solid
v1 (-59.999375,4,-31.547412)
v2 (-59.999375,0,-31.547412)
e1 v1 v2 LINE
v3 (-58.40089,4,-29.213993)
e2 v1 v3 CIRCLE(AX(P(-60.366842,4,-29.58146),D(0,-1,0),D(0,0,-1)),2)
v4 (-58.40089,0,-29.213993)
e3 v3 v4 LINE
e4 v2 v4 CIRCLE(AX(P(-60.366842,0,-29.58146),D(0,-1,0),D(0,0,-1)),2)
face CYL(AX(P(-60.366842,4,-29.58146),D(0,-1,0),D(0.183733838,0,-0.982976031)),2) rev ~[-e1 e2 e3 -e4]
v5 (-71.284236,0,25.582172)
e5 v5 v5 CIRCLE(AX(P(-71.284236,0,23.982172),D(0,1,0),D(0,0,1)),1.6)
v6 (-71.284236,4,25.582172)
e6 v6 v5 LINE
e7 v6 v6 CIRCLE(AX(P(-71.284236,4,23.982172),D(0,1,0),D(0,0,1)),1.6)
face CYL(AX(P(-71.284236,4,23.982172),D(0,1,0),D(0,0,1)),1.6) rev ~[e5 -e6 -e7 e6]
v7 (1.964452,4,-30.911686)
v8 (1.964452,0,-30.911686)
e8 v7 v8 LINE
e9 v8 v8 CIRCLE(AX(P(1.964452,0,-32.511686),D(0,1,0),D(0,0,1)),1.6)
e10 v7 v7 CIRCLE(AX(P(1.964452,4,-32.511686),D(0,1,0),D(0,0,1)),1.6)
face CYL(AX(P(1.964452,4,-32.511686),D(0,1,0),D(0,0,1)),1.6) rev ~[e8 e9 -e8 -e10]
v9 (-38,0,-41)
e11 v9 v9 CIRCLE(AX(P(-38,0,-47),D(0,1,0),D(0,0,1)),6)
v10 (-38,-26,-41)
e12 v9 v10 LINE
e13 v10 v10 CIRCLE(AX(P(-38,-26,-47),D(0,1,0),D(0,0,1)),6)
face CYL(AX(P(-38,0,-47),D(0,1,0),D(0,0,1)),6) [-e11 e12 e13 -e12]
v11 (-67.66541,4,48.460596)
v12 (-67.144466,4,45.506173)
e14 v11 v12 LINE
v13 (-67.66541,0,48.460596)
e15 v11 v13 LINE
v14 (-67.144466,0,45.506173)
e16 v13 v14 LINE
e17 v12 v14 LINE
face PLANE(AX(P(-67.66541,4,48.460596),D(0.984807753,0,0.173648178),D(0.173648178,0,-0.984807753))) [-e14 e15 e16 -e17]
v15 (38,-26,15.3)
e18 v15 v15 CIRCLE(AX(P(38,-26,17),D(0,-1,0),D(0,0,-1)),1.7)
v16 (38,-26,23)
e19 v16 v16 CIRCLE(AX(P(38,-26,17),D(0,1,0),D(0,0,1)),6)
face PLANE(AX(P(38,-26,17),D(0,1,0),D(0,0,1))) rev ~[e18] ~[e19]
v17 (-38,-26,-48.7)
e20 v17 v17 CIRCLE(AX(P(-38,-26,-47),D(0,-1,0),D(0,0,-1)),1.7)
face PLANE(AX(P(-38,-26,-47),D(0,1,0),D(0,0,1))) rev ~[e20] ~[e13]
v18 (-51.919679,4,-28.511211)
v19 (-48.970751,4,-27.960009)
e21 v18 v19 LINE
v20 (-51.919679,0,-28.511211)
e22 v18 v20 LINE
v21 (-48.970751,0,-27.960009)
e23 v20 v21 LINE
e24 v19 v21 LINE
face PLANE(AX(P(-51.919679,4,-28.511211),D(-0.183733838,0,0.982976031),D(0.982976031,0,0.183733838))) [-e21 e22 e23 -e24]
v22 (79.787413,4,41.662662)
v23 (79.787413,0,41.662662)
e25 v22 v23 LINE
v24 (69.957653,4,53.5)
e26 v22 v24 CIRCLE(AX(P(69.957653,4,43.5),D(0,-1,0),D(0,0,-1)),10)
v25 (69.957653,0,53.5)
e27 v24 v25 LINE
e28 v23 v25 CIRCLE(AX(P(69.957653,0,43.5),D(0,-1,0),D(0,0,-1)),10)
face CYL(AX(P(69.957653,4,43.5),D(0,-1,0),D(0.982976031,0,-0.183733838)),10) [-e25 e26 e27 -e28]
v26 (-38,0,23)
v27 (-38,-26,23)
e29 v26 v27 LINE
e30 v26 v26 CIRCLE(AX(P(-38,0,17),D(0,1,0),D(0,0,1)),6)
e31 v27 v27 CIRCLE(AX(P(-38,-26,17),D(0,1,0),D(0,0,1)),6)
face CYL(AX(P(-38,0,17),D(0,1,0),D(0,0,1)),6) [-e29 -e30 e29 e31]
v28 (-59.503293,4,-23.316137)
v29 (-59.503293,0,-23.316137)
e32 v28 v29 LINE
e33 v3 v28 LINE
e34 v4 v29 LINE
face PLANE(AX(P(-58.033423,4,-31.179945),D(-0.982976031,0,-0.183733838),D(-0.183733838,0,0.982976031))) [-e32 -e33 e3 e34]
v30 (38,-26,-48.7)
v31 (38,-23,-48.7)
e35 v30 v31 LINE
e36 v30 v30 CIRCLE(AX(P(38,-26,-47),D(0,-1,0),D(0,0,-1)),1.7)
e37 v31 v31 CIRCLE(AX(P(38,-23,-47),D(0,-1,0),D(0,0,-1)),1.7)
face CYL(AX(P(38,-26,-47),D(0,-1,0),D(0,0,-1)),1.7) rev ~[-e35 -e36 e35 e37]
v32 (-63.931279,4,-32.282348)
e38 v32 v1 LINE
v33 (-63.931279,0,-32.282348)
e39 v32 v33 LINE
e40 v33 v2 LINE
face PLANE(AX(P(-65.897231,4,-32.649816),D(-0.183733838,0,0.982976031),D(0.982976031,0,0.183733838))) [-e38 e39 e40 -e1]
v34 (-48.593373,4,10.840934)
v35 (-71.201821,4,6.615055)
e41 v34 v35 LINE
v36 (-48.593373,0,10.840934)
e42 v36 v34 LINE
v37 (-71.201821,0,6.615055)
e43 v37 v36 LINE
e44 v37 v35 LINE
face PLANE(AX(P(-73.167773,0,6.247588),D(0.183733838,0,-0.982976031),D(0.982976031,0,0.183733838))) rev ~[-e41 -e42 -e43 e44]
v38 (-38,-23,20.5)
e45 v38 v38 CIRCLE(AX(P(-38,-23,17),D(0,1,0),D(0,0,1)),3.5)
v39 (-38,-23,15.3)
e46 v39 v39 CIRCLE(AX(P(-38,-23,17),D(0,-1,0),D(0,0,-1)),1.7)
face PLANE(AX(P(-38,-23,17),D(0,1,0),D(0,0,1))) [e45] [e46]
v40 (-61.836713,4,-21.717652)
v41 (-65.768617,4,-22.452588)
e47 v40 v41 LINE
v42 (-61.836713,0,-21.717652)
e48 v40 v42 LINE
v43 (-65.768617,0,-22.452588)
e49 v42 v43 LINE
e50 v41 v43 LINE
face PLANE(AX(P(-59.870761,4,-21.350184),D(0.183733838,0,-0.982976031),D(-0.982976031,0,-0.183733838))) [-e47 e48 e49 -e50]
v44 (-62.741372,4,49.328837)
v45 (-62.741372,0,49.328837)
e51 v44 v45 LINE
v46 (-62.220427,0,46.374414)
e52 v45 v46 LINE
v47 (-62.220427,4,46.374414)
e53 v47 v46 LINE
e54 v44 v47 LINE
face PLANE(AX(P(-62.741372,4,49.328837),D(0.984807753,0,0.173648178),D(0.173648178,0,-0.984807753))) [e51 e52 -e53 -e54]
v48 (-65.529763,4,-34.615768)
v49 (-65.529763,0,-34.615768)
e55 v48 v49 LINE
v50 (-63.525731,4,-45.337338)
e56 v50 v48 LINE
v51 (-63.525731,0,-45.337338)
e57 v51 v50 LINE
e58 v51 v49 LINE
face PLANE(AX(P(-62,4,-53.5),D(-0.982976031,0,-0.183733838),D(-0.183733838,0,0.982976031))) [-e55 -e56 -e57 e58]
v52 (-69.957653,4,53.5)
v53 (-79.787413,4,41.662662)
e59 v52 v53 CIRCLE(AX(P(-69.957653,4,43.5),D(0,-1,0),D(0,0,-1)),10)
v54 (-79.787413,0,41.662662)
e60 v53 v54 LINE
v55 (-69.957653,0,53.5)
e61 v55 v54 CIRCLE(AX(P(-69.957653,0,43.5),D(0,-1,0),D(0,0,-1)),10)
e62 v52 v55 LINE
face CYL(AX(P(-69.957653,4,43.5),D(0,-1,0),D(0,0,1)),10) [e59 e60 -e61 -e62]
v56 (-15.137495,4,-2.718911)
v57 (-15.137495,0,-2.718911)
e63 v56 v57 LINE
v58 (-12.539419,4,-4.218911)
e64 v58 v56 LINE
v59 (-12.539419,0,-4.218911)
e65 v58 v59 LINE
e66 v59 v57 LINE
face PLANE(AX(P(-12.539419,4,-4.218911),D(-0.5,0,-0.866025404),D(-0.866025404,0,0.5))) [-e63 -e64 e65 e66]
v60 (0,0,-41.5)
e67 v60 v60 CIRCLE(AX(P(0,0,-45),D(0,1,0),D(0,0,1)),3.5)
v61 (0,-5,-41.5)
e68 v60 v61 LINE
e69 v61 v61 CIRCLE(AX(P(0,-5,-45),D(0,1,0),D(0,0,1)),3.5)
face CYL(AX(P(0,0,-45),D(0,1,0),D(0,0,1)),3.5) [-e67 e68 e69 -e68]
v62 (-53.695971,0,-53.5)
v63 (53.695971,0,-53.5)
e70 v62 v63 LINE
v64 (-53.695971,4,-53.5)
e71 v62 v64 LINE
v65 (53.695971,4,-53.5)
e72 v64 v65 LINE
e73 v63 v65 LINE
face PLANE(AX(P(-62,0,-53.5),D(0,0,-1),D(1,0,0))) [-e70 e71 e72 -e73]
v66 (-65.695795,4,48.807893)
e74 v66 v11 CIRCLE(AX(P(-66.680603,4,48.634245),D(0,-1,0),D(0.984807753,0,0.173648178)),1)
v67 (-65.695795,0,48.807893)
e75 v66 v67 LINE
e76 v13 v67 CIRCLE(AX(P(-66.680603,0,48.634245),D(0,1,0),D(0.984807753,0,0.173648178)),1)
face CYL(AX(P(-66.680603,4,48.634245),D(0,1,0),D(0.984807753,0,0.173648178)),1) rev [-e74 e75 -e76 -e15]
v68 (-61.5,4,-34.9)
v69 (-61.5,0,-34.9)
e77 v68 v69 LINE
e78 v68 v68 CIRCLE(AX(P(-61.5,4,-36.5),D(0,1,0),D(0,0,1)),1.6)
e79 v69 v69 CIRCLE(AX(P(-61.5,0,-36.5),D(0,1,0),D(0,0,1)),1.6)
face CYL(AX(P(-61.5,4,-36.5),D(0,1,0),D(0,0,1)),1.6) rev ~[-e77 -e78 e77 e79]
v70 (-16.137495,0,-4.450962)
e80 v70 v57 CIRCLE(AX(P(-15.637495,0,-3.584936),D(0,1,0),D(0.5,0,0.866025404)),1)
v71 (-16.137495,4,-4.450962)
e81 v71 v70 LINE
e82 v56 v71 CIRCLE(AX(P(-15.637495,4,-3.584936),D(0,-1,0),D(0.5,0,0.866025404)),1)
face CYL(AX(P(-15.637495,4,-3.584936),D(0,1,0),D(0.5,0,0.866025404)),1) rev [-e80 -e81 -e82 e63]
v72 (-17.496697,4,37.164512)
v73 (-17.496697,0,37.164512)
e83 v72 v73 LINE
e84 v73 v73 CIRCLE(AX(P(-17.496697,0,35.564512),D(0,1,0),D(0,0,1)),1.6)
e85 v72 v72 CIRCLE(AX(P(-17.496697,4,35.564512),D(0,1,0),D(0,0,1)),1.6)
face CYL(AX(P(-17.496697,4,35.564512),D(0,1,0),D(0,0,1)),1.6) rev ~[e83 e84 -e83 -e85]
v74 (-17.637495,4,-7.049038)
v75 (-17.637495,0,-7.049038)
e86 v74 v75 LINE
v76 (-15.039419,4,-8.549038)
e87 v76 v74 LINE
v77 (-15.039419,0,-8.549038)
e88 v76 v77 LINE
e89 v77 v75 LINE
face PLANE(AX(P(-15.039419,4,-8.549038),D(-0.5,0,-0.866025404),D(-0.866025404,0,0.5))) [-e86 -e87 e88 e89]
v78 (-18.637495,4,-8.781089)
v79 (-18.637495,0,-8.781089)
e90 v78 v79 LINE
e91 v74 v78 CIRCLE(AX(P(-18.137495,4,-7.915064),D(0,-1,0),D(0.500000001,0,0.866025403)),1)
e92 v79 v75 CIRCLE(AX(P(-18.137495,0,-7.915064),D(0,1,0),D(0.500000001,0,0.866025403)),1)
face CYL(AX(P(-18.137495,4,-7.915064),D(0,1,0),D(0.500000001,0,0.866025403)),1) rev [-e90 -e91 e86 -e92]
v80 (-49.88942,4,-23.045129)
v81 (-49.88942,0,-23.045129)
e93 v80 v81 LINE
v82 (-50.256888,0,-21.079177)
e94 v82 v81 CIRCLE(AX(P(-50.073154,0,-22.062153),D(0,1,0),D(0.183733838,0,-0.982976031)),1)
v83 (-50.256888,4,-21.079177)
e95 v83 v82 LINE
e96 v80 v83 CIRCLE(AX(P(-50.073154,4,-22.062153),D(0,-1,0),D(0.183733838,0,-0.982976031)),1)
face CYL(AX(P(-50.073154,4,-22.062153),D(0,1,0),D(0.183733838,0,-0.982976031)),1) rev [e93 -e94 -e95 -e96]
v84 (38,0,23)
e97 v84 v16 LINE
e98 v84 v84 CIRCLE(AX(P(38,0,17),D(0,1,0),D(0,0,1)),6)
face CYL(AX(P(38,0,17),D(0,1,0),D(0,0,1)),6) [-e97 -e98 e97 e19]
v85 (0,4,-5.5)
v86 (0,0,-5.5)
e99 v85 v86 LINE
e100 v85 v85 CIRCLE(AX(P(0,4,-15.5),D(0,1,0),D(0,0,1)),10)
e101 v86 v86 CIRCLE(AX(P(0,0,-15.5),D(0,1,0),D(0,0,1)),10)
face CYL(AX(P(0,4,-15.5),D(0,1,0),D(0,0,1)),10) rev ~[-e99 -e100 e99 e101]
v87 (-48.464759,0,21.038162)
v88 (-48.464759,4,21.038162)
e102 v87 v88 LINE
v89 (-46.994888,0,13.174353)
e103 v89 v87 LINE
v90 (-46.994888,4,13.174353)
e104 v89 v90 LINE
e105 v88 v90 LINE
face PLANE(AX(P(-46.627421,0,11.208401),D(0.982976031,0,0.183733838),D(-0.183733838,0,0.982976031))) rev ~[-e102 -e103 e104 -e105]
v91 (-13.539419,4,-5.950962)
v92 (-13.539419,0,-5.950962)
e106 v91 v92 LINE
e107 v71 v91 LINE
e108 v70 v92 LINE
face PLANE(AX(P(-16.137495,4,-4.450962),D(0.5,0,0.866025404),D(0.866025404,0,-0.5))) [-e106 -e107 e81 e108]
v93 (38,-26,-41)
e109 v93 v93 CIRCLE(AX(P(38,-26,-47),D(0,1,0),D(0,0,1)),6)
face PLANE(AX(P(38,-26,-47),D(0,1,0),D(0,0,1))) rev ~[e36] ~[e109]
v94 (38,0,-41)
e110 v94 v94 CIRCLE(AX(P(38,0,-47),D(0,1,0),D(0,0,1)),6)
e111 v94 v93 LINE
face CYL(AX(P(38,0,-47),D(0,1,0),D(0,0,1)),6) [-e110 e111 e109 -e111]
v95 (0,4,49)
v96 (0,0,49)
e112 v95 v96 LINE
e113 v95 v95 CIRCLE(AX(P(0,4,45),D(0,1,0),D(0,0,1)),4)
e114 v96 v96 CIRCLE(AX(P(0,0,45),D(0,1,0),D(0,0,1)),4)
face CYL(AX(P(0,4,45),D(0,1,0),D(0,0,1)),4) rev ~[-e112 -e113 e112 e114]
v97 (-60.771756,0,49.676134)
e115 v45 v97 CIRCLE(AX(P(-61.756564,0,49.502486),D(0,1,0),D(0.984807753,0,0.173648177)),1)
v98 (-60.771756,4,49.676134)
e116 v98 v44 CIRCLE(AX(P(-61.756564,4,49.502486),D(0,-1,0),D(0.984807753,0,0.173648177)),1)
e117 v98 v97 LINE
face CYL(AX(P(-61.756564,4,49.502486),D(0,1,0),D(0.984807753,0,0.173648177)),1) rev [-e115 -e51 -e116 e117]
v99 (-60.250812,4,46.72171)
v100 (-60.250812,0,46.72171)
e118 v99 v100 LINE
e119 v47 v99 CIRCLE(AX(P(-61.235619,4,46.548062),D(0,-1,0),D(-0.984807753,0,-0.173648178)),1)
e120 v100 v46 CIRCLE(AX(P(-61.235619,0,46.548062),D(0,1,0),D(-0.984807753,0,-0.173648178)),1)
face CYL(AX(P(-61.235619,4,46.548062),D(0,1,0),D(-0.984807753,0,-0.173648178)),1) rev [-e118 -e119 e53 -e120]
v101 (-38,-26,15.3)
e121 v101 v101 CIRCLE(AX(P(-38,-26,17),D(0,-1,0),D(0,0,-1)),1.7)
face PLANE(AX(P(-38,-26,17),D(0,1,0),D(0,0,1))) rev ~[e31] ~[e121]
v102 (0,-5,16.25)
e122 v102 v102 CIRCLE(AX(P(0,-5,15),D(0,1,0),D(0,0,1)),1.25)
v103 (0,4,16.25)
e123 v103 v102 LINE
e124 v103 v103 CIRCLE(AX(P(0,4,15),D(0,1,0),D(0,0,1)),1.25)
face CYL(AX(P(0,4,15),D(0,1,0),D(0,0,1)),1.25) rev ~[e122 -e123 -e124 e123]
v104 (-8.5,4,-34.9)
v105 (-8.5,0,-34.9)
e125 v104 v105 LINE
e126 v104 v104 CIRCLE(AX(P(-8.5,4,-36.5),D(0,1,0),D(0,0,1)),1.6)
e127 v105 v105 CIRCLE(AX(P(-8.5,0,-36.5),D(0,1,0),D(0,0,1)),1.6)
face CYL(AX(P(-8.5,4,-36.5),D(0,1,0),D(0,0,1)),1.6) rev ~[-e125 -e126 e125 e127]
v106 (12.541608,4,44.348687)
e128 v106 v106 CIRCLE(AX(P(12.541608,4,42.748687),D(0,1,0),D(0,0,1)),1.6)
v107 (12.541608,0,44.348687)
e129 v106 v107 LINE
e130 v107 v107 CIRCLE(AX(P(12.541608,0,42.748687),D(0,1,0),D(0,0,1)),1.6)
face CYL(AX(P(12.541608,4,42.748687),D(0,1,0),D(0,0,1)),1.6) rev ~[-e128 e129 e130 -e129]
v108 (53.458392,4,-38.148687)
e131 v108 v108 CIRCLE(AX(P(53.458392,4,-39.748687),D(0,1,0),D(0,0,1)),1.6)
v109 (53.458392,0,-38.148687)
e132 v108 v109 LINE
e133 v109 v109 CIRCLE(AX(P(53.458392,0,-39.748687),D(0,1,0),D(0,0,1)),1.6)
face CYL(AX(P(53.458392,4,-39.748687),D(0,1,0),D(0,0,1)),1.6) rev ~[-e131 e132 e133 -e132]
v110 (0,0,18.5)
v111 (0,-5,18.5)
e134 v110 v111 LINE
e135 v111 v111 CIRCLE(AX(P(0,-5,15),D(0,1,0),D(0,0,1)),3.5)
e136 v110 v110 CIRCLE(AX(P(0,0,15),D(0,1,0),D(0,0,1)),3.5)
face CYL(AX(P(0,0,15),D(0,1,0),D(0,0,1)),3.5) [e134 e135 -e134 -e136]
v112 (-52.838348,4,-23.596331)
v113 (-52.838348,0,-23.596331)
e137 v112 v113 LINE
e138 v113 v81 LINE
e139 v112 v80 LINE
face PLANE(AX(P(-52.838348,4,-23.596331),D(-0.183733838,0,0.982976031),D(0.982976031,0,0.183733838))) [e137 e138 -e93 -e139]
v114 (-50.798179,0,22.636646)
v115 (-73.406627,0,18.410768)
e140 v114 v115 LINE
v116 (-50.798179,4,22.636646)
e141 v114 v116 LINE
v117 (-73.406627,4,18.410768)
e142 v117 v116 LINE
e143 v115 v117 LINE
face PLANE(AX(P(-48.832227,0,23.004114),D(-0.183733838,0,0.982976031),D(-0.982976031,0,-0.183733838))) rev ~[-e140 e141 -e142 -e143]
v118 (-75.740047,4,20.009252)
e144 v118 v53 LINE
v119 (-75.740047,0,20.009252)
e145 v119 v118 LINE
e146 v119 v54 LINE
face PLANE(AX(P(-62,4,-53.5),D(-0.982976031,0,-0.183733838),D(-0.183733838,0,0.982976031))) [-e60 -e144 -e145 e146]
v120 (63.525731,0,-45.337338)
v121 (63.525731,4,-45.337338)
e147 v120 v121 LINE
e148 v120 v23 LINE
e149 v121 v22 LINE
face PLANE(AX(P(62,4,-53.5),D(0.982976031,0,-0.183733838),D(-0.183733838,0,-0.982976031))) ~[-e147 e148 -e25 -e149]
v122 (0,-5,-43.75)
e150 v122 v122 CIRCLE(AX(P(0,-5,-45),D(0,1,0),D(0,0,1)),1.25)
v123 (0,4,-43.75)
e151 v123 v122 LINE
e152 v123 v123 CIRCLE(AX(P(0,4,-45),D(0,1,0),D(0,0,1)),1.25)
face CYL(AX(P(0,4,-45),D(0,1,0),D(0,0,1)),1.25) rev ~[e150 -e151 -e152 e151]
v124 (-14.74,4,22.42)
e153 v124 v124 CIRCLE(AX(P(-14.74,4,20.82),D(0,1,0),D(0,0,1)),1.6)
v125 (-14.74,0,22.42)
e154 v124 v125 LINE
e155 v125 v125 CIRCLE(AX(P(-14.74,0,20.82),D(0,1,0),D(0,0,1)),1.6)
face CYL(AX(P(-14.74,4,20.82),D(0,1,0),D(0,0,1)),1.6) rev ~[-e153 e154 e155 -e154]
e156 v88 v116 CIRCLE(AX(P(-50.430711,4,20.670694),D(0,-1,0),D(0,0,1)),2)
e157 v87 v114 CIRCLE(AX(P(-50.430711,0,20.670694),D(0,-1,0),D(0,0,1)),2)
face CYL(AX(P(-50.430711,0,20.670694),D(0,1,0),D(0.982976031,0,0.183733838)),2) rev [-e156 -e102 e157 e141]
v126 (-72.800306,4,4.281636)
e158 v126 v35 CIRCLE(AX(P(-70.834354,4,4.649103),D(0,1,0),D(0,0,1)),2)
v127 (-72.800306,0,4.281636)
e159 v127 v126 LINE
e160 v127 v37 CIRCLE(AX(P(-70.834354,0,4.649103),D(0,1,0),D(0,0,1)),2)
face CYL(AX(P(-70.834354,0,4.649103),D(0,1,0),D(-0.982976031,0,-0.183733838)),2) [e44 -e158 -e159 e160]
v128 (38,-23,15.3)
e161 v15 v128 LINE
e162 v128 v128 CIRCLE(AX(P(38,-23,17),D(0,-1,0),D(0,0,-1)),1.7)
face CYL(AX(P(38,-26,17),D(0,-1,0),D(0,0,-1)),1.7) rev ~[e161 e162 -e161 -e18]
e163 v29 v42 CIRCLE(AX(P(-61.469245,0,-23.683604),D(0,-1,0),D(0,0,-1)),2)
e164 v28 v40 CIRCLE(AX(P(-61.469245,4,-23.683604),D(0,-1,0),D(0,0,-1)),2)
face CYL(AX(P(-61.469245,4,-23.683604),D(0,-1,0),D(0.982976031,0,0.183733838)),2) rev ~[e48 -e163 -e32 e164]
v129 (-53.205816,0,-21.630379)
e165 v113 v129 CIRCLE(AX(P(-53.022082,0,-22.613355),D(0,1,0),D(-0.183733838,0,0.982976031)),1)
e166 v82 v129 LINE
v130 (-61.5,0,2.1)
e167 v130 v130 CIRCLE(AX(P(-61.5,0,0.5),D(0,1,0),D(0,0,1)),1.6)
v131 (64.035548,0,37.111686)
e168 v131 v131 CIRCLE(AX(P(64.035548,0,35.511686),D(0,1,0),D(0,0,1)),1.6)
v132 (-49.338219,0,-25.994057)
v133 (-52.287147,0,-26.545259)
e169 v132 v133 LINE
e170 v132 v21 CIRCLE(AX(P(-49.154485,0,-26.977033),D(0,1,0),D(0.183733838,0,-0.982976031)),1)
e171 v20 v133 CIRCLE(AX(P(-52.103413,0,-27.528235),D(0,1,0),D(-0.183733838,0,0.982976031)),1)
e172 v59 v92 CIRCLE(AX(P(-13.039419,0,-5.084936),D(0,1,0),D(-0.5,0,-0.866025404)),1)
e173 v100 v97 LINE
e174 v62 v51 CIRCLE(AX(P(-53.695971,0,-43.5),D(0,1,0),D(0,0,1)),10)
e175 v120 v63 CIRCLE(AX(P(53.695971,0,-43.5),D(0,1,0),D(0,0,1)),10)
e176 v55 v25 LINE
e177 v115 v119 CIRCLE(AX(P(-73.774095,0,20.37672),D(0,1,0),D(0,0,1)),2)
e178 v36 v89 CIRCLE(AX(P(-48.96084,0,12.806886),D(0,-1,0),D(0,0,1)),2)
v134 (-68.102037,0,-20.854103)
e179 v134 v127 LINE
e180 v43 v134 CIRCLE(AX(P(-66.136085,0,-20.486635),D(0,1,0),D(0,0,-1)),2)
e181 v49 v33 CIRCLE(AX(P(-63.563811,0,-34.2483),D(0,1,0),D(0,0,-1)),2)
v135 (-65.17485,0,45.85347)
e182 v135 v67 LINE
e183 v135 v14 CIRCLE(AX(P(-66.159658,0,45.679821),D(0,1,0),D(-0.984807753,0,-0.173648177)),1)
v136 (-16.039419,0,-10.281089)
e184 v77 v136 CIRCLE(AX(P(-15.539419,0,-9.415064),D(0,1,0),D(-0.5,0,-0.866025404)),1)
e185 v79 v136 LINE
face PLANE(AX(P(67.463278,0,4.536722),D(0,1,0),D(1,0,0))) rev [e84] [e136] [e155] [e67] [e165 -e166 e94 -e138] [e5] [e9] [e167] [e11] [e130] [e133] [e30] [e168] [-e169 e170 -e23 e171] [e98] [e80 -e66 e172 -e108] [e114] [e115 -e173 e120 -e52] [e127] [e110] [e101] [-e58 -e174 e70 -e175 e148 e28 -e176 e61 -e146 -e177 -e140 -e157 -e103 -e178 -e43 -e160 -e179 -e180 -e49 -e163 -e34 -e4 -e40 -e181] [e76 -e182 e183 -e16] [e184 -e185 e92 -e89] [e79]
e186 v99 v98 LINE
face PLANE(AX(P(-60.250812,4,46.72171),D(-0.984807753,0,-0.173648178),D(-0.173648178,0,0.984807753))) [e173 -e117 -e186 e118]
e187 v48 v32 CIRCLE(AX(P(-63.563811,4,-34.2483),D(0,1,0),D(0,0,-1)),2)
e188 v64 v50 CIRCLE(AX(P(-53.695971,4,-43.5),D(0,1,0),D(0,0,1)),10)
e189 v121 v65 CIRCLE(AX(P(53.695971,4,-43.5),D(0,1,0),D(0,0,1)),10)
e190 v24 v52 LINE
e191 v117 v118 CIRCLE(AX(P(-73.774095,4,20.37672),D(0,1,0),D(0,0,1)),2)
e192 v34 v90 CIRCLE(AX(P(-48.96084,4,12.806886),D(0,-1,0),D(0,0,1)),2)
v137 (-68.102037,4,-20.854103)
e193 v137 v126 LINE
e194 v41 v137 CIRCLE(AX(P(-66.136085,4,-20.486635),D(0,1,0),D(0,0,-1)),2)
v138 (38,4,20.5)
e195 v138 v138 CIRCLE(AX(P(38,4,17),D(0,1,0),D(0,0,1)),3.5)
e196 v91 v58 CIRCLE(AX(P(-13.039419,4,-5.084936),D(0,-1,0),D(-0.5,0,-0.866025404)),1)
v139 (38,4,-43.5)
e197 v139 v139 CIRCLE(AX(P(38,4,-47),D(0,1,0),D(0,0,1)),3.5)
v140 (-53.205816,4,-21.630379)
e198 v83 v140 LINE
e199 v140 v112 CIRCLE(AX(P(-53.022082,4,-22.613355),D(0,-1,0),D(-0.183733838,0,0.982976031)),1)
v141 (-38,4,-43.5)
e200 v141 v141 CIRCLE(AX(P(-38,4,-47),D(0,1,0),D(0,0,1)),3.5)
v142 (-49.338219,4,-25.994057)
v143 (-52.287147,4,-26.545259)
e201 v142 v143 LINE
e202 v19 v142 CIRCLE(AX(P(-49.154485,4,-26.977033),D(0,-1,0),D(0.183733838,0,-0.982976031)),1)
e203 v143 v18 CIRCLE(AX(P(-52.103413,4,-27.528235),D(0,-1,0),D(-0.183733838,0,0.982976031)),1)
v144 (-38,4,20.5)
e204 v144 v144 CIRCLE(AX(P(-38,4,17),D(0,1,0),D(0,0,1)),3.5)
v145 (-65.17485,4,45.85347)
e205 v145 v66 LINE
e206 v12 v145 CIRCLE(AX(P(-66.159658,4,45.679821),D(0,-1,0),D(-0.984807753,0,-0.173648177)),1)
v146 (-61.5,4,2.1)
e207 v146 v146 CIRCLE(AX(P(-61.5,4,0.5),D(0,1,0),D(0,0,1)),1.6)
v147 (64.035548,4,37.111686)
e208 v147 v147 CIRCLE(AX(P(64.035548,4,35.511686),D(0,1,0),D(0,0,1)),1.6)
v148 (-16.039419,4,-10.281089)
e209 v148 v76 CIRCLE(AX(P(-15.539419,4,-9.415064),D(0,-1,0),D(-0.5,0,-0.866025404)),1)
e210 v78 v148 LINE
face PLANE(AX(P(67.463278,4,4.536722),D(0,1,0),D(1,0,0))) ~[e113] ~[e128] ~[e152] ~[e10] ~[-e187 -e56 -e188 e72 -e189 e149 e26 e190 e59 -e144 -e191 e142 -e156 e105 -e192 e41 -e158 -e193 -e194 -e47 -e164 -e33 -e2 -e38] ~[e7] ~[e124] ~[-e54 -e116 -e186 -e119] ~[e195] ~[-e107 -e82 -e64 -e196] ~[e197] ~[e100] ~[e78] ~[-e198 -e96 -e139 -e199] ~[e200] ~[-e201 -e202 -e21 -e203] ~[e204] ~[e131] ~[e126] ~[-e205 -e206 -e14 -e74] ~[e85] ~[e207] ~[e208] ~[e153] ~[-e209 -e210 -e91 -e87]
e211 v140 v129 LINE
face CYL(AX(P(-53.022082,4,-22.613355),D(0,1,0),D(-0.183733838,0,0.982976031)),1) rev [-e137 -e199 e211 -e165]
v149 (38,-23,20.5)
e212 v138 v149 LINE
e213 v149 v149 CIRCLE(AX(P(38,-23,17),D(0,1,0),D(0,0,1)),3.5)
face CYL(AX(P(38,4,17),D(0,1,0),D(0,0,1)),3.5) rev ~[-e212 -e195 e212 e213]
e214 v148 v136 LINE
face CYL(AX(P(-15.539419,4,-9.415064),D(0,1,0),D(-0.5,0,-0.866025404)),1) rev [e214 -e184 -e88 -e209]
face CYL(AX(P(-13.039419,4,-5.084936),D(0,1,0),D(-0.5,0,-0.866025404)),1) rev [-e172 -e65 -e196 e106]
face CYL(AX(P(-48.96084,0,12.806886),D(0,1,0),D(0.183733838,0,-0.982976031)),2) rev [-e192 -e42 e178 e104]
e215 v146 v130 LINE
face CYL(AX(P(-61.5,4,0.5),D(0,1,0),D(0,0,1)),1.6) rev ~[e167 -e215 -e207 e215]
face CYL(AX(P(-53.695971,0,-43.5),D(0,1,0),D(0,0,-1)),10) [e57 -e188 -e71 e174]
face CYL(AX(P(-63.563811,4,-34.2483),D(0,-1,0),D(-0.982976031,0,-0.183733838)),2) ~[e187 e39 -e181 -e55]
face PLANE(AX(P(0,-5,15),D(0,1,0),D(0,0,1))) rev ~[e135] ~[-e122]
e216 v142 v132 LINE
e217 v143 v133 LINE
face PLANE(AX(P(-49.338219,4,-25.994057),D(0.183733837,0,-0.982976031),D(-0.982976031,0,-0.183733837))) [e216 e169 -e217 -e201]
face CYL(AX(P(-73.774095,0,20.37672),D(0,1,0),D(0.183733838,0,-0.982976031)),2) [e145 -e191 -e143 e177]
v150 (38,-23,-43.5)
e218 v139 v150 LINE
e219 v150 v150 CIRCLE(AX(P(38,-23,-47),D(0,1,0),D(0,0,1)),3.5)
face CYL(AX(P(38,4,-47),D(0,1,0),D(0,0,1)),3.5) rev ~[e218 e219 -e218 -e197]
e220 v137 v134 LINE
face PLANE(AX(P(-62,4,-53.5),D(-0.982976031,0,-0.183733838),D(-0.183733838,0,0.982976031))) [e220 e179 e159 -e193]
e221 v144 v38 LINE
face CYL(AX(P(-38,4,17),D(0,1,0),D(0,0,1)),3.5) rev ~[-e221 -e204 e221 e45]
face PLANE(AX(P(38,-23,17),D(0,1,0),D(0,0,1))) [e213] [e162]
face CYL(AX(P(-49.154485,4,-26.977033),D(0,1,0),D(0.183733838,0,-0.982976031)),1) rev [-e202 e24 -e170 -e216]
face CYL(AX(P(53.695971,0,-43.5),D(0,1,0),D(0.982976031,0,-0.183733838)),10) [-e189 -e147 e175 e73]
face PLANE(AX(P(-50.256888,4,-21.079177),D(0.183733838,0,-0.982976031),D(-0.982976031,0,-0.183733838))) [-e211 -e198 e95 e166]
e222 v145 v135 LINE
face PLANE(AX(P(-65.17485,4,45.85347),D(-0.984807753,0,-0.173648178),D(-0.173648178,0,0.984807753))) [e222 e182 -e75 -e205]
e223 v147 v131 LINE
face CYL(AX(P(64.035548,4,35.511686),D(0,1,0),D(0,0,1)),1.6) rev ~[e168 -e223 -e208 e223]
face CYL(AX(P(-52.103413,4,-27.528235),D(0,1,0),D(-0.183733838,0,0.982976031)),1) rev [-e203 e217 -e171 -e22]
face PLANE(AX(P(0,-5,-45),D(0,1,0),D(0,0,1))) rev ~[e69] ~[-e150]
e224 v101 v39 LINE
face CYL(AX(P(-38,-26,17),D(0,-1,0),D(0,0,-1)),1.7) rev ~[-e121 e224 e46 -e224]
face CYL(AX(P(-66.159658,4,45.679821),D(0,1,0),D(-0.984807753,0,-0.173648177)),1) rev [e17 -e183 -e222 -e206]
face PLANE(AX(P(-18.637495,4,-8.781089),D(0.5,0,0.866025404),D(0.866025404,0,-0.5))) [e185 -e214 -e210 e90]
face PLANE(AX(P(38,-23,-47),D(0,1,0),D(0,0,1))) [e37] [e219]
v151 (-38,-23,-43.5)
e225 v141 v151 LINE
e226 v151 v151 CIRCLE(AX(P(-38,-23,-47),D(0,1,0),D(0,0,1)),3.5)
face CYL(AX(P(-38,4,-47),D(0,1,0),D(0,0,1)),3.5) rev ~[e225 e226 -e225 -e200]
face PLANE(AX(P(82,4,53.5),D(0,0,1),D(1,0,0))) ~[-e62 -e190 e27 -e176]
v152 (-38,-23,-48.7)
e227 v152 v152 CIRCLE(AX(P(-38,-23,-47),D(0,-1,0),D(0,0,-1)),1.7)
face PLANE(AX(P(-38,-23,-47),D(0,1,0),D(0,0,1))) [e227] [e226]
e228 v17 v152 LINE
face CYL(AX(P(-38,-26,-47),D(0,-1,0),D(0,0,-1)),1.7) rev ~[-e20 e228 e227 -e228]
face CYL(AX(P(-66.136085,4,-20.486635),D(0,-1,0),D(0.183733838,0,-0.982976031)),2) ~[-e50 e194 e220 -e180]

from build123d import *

# Parameters (mm, degrees)
ESQUISSE1_W              = 124
ESQUISSE1_H              = 107
BOSS_EXTRU_1_DEPTH       = 4
ESQUISSE3_R              = 6
BOSS_EXTRU_4_DEPTH       = 26
ENL_V_MAT_EXTRU_2_REACH  = 89.214
ESQUISSE4_R              = 10
BOSS_EXTRU_5_DEPTH       = 4
ESQUISSE2_R              = 1.6
ENL_V_MAT_EXTRU_1_DEPTH  = 103.40239255
ESQUISSE6_R              = 1.6
ENL_V_MAT_EXTRU_3_DEPTH  = 103.40239255
CONG_1_R                 = 10
ESQUISSE7_R              = 3.5
ENL_V_MAT_EXTRU_4_DEPTH  = 27
ESQUISSE8_R              = 1.7
ENL_V_MAT_EXTRU_5_DEPTH  = 101.774383085
ENL_V_MAT_EXTRU_6_REACH  = 101.657
CONG_2_R                 = 2
ESQUISSE10_R             = 3.5
BOSS_EXTRU_6_DEPTH       = 5
ENL_V_MAT_EXTRU_8_REACH  = 102.774
ESQUISSE11_R             = 1.25
ENL_V_MAT_EXTRU_9_REACH  = 102.774
ESQUISSE12_R             = 4
ENL_V_MAT_EXTRU_10_REACH = 102.774
CONG_3_R                 = 2
ENL_V_MAT_EXTRU_11_REACH = 102.774
ENL_V_MAT_EXTRU_12_REACH = 102.774
ENL_V_MAT_EXTRU_13_REACH = 102.774
ESQUISSE16_R             = 1.6
ENL_V_MAT_EXTRU_14_REACH = 102.774


with BuildPart() as part:
    # Esquisse1 → Boss.-Extru.1 (new body)
    with BuildSketch(Plane(origin=(0, 0, 0), x_dir=(1, 0, 0), z_dir=(0, 1, 0))):
        Rectangle(ESQUISSE1_W, ESQUISSE1_H)
    extrude(amount=BOSS_EXTRU_1_DEPTH)

    # Esquisse3 → Boss.-Extru.4 (add)
    with BuildSketch(Plane(origin=(0, 0, 0), x_dir=(1, 0, 0), z_dir=(0, 1, 0))):
        with Locations(Location((-38, -17, 0), (0, 0, 270))):
            Circle(ESQUISSE3_R)
        with Locations(Location((38, -17, 0), (0, 0, 270))):
            Circle(ESQUISSE3_R)
        with Locations(Location((38, 47, 0), (0, 0, 270))):
            Circle(ESQUISSE3_R)
        with Locations(Location((-38, 47, 0), (0, 0, 270))):
            Circle(ESQUISSE3_R)
    extrude(amount=-BOSS_EXTRU_4_DEPTH)

    # Esquisse4 → Enlèv. mat.-Extru.2 (cut, up to next)
    with BuildSketch(Plane(origin=(0, 4, 0), x_dir=(1, 0, 0), z_dir=(0, 1, 0)), mode=Mode.PRIVATE) as enl_v_mat_extru_2_sk1:
        with Locations(Location((0, 15.5, 0), (0, 0, 270))):
            Circle(ESQUISSE4_R)
    enl_v_mat_extru_2_tool1 = extrude(enl_v_mat_extru_2_sk1.sketch, amount=-ENL_V_MAT_EXTRU_2_REACH, mode=Mode.PRIVATE) & part.part
    add(enl_v_mat_extru_2_tool1.solids().sort_by_distance((0, 4, -15.5))[0], mode=Mode.SUBTRACT)

    # Esquisse5 → Boss.-Extru.5 (add)
    with BuildSketch(Plane(origin=(0, 4, 0), x_dir=(1, 0, 0), z_dir=(0, 1, 0))):
        Polygon((-62, 53.5), (-82, -53.5), (-62, -53.5), align=None)
    boss_extru_5 = extrude(amount=-BOSS_EXTRU_5_DEPTH)

    # Esquisse2 → Enlèv. mat.-Extru.1 (cut, through all)
    with BuildSketch(Plane(origin=(0, 4, 0), x_dir=(1, 0, 0), z_dir=(0, 1, 0))):
        with Locations(Location((-61.5, 36.5, 0), (0, 0, 270))):
            Circle(ESQUISSE2_R)
        with Locations(Location((-8.5, 36.5, 0), (0, 0, 270))):
            Circle(ESQUISSE2_R)
        with Locations(Location((-61.5, -0.5, 0), (0, 0, 270))):
            Circle(ESQUISSE2_R)
    extrude(amount=-ENL_V_MAT_EXTRU_1_DEPTH, mode=Mode.SUBTRACT)

    # Symétrie1: Boss.-Extru.5 across plane
    add(boss_extru_5.mirror(Plane(origin=(0, 0, 0), x_dir=(0, 0, 1), z_dir=(1, 0, 0))))

    # Esquisse6 → Enlèv. mat.-Extru.3 (cut, through all)
    with BuildSketch(Plane(origin=(0, 4, 0), x_dir=(1, 0, 0), z_dir=(0, 1, 0))):
        with Locations(Location((53.458391951, 39.748687237, 0), (0, 0, 270))):
            Circle(ESQUISSE6_R)
        with Locations(Location((1.964452376, 32.511685987, 0), (0, 0, 270))):
            Circle(ESQUISSE6_R)
        with Locations(Location((12.541608049, -42.748687237, 0), (0, 0, 270))):
            Circle(ESQUISSE6_R)
        with Locations(Location((64.035547624, -35.511685987, 0), (0, 0, 270))):
            Circle(ESQUISSE6_R)
    extrude(amount=-ENL_V_MAT_EXTRU_3_DEPTH, mode=Mode.SUBTRACT)

    # Congé1
    cong_1_edges = [part.edges().sort_by_distance(p)[0] for p in [
        (-82, 2, 53.5),
        (82, 2, 53.5),
        (-62, 2, -53.5),
        (62, 2, -53.5),
    ]]
    fillet(cong_1_edges, radius=CONG_1_R)

    # Esquisse7 → Enlèv. mat.-Extru.4 (cut)
    with BuildSketch(Plane(origin=(0, 4, 0), x_dir=(1, 0, 0), z_dir=(0, 1, 0))):
        with Locations(Location((-38, 47, 0), (0, 0, 270))):
            Circle(ESQUISSE7_R)
        with Locations(Location((38, 47, 0), (0, 0, 270))):
            Circle(ESQUISSE7_R)
        with Locations(Location((-38, -17, 0), (0, 0, 270))):
            Circle(ESQUISSE7_R)
        with Locations(Location((38, -17, 0), (0, 0, 270))):
            Circle(ESQUISSE7_R)
    extrude(amount=-ENL_V_MAT_EXTRU_4_DEPTH, mode=Mode.SUBTRACT)

    # Esquisse8 → Enlèv. mat.-Extru.5 (cut, through all)
    with BuildSketch(Plane.XZ.offset(26)):
        with Locations(Location((-38, -47, 0), (0, 0, 270))):
            Circle(ESQUISSE8_R)
        with Locations(Location((-38, 17, 0), (0, 0, 270))):
            Circle(ESQUISSE8_R)
        with Locations(Location((38, 17, 0), (0, 0, 270))):
            Circle(ESQUISSE8_R)
        with Locations(Location((38, -47, 0), (0, 0, 270))):
            Circle(ESQUISSE8_R)
    extrude(amount=-ENL_V_MAT_EXTRU_5_DEPTH, mode=Mode.SUBTRACT)

    # Esquisse9 → Enlèv. mat.-Extru.6 (cut, up to next)
    with BuildSketch(Plane.XZ, mode=Mode.PRIVATE) as enl_v_mat_extru_6_sk1:
        Polygon((-48.832226611, 23.004113615), (-75.37257944, 18.043300002), (-73.167773389, 6.247587634), (-46.62742056, 11.208401247), align=None)
    enl_v_mat_extru_6_tool1 = extrude(enl_v_mat_extru_6_sk1.sketch, amount=-ENL_V_MAT_EXTRU_6_REACH, mode=Mode.PRIVATE) & part.part
    add(enl_v_mat_extru_6_tool1.solids().sort_by_distance((-61, 0, 14.625851))[0], mode=Mode.SUBTRACT)

    # Congé2
    cong_2_edges = [part.edges().sort_by_distance(p)[0] for p in [
        (-48.832226611, 2, 23.004113615),
        (-46.62742056, 2, 11.208401247),
        (-73.167773389, 2, 6.247587634),
        (-75.37257944, 2, 18.043300002),
    ]]
    fillet(cong_2_edges, radius=CONG_2_R)

    # Esquisse10 → Boss.-Extru.6 (add)
    with BuildSketch(Plane(origin=(0, 0, 0), x_dir=(1, 0, 0), z_dir=(0, 1, 0))):
        with Locations(Location((0, 45, 0), (0, 0, 270))):
            Circle(ESQUISSE10_R)
        with Locations(Location((0, -15, 0), (0, 0, 270))):
            Circle(ESQUISSE10_R)
    extrude(amount=-BOSS_EXTRU_6_DEPTH)

    # Esquisse11 → Enlèv. mat.-Extru.8 (cut, up to next)
    with BuildSketch(Plane(origin=(0, 4, 0), x_dir=(1, 0, 0), z_dir=(0, 1, 0)), mode=Mode.PRIVATE) as enl_v_mat_extru_8_sk1:
        with Locations(Location((0, 45, 0), (0, 0, 270))):
            Circle(ESQUISSE11_R)
    enl_v_mat_extru_8_tool1 = extrude(enl_v_mat_extru_8_sk1.sketch, amount=-ENL_V_MAT_EXTRU_8_REACH, mode=Mode.PRIVATE) & part.part
    # Esquisse11 → Enlèv. mat.-Extru.8 (cut, up to next)
    with BuildSketch(Plane(origin=(0, 4, 0), x_dir=(1, 0, 0), z_dir=(0, 1, 0)), mode=Mode.PRIVATE) as enl_v_mat_extru_8_sk2:
        with Locations(Location((0, -15, 0), (0, 0, 270))):
            Circle(ESQUISSE11_R)
    enl_v_mat_extru_8_tool2 = extrude(enl_v_mat_extru_8_sk2.sketch, amount=-ENL_V_MAT_EXTRU_8_REACH, mode=Mode.PRIVATE) & part.part
    add(enl_v_mat_extru_8_tool1.solids().sort_by_distance((0, 4, -45))[0], mode=Mode.SUBTRACT)
    add(enl_v_mat_extru_8_tool2.solids().sort_by_distance((0, 4, 15))[0], mode=Mode.SUBTRACT)

    # Esquisse12 → Enlèv. mat.-Extru.9 (cut, up to next)
    with BuildSketch(Plane(origin=(0, 4, 0), x_dir=(1, 0, 0), z_dir=(0, 1, 0)), mode=Mode.PRIVATE) as enl_v_mat_extru_9_sk1:
        with Locations(Location((0, -45, 0), (0, 0, 270))):
            Circle(ESQUISSE12_R)
    enl_v_mat_extru_9_tool1 = extrude(enl_v_mat_extru_9_sk1.sketch, amount=-ENL_V_MAT_EXTRU_9_REACH, mode=Mode.PRIVATE) & part.part
    add(enl_v_mat_extru_9_tool1.solids().sort_by_distance((0, 4, 45))[0], mode=Mode.SUBTRACT)

    # Esquisse13 → Enlèv. mat.-Extru.10 (cut, up to next)
    with BuildSketch(Plane(origin=(0, 4, 0), x_dir=(1, 0, 0), z_dir=(0, 1, 0)), mode=Mode.PRIVATE) as enl_v_mat_extru_10_sk1:
        Polygon((-59.870760876, 21.350184496), (-67.734569122, 22.820055197), (-65.897230747, 32.649815504), (-58.033422501, 31.179944803), align=None)
    enl_v_mat_extru_10_tool1 = extrude(enl_v_mat_extru_10_sk1.sketch, amount=-ENL_V_MAT_EXTRU_10_REACH, mode=Mode.PRIVATE) & part.part
    add(enl_v_mat_extru_10_tool1.solids().sort_by_distance((-62.883996, 4, -27))[0], mode=Mode.SUBTRACT)

    # Congé3
    cong_3_edges = [part.edges().sort_by_distance(p)[0] for p in [
        (-58.033422501, 2, -31.179944803),
        (-59.870760876, 2, -21.350184496),
        (-67.734569122, 2, -22.820055197),
        (-65.897230747, 2, -32.649815504),
    ]]
    fillet(cong_3_edges, radius=CONG_3_R)

    # Esquisse14 → Enlèv. mat.-Extru.11 (cut, up to next)
    with BuildSketch(Plane(origin=(0, 4, 0), x_dir=(1, 0, 0), z_dir=(0, 1, 0)), mode=Mode.PRIVATE) as enl_v_mat_extru_11_sk1:
        with BuildLine():
            Line((-49.338218641, 25.99405724), (-52.287146733, 26.545258752))
            ThreePointArc((-52.287146733, 26.545258752), (-53.086388926, 27.71196862), (-51.919679058, 28.511210814))
            Line((-51.919679058, 28.511210814), (-48.970750966, 27.960009301))
            ThreePointArc((-48.970750966, 27.960009301), (-48.171508773, 26.793299433), (-49.338218641, 25.99405724))
        make_face()
    enl_v_mat_extru_11_tool1 = extrude(enl_v_mat_extru_11_sk1.sketch, amount=-ENL_V_MAT_EXTRU_11_REACH, mode=Mode.PRIVATE) & part.part
    # Esquisse14 → Enlèv. mat.-Extru.11 (cut, up to next)
    with BuildSketch(Plane(origin=(0, 4, 0), x_dir=(1, 0, 0), z_dir=(0, 1, 0)), mode=Mode.PRIVATE) as enl_v_mat_extru_11_sk2:
        with BuildLine():
            Line((-50.256887828, 21.079177086), (-53.205815921, 21.630378599))
            ThreePointArc((-53.205815921, 21.630378599), (-54.005058114, 22.797088467), (-52.838348246, 23.59633066))
            Line((-52.838348246, 23.59633066), (-49.889420153, 23.045129147))
            ThreePointArc((-49.889420153, 23.045129147), (-49.09017796, 21.878419279), (-50.256887828, 21.079177086))
        make_face()
    enl_v_mat_extru_11_tool2 = extrude(enl_v_mat_extru_11_sk2.sketch, amount=-ENL_V_MAT_EXTRU_11_REACH, mode=Mode.PRIVATE) & part.part
    add(enl_v_mat_extru_11_tool1.solids().sort_by_distance((-50.628949, 4, -27.252634))[0], mode=Mode.SUBTRACT)
    add(enl_v_mat_extru_11_tool2.solids().sort_by_distance((-51.547618, 4, -22.337754))[0], mode=Mode.SUBTRACT)

    # Esquisse15 → Enlèv. mat.-Extru.12 (cut, up to next)
    with BuildSketch(Plane(origin=(0, 4, 0), x_dir=(1, 0, 0), z_dir=(0, 1, 0)), mode=Mode.PRIVATE) as enl_v_mat_extru_12_sk1:
        with BuildLine():
            Line((-18.637495374, 8.781088913), (-16.039419162, 10.281088913))
            ThreePointArc((-16.039419162, 10.281088913), (-14.673393759, 9.915063509), (-15.039419162, 8.549038106))
            Line((-15.039419162, 8.549038106), (-17.637495374, 7.049038106))
            ThreePointArc((-17.637495374, 7.049038106), (-19.003520778, 7.415063509), (-18.637495374, 8.781088913))
        make_face()
    enl_v_mat_extru_12_tool1 = extrude(enl_v_mat_extru_12_sk1.sketch, amount=-ENL_V_MAT_EXTRU_12_REACH, mode=Mode.PRIVATE) & part.part
    # Esquisse15 → Enlèv. mat.-Extru.12 (cut, up to next)
    with BuildSketch(Plane(origin=(0, 4, 0), x_dir=(1, 0, 0), z_dir=(0, 1, 0)), mode=Mode.PRIVATE) as enl_v_mat_extru_12_sk2:
        with BuildLine():
            Line((-16.137495374, 4.450961894), (-13.539419162, 5.950961894))
            ThreePointArc((-13.539419162, 5.950961894), (-12.173393759, 5.584936491), (-12.539419162, 4.218911087))
            Line((-12.539419162, 4.218911087), (-15.137495374, 2.718911087))
            ThreePointArc((-15.137495374, 2.718911087), (-16.503520778, 3.084936491), (-16.137495374, 4.450961894))
        make_face()
    enl_v_mat_extru_12_tool2 = extrude(enl_v_mat_extru_12_sk2.sketch, amount=-ENL_V_MAT_EXTRU_12_REACH, mode=Mode.PRIVATE) & part.part
    add(enl_v_mat_extru_12_tool1.solids().sort_by_distance((-16.838457, 4, -8.665064))[0], mode=Mode.SUBTRACT)
    add(enl_v_mat_extru_12_tool2.solids().sort_by_distance((-14.338457, 4, -4.334936))[0], mode=Mode.SUBTRACT)

    # Esquisse16 → Enlèv. mat.-Extru.13 (cut, up to next)
    with BuildSketch(Plane(origin=(0, 4, 0), x_dir=(1, 0, 0), z_dir=(0, 1, 0)), mode=Mode.PRIVATE) as enl_v_mat_extru_13_sk1:
        with Locations(Location((-14.74, -20.82, 0), (0, 0, 270))):
            Circle(ESQUISSE16_R)
    enl_v_mat_extru_13_tool1 = extrude(enl_v_mat_extru_13_sk1.sketch, amount=-ENL_V_MAT_EXTRU_13_REACH, mode=Mode.PRIVATE) & part.part
    # Esquisse16 → Enlèv. mat.-Extru.13 (cut, up to next)
    with BuildSketch(Plane(origin=(0, 4, 0), x_dir=(1, 0, 0), z_dir=(0, 1, 0)), mode=Mode.PRIVATE) as enl_v_mat_extru_13_sk2:
        with Locations(Location((-17.496696898, -35.564511596, 0), (0, 0, 270))):
            Circle(ESQUISSE16_R)
    enl_v_mat_extru_13_tool2 = extrude(enl_v_mat_extru_13_sk2.sketch, amount=-ENL_V_MAT_EXTRU_13_REACH, mode=Mode.PRIVATE) & part.part
    # Esquisse16 → Enlèv. mat.-Extru.13 (cut, up to next)
    with BuildSketch(Plane(origin=(0, 4, 0), x_dir=(1, 0, 0), z_dir=(0, 1, 0)), mode=Mode.PRIVATE) as enl_v_mat_extru_13_sk3:
        with Locations(Location((-71.284236395, -23.982171809, 0), (0, 0, 270))):
            Circle(ESQUISSE16_R)
    enl_v_mat_extru_13_tool3 = extrude(enl_v_mat_extru_13_sk3.sketch, amount=-ENL_V_MAT_EXTRU_13_REACH, mode=Mode.PRIVATE) & part.part
    add(enl_v_mat_extru_13_tool1.solids().sort_by_distance((-14.74, 4, 20.82))[0], mode=Mode.SUBTRACT)
    add(enl_v_mat_extru_13_tool2.solids().sort_by_distance((-17.496697, 4, 35.564512))[0], mode=Mode.SUBTRACT)
    add(enl_v_mat_extru_13_tool3.solids().sort_by_distance((-71.284236, 4, 23.982172))[0], mode=Mode.SUBTRACT)

    # Esquisse17 → Enlèv. mat.-Extru.14 (cut, up to next)
    with BuildSketch(Plane(origin=(0, 4, 0), x_dir=(1, 0, 0), z_dir=(0, 1, 0)), mode=Mode.PRIVATE) as enl_v_mat_extru_14_sk1:
        with BuildLine():
            Line((-67.665410336, -48.46059649), (-67.144465803, -45.506173231))
            ThreePointArc((-67.144465803, -45.506173231), (-65.986009872, -44.695013655), (-65.174850297, -45.853469586))
            Line((-65.174850297, -45.853469586), (-65.69579483, -48.807892845))
            ThreePointArc((-65.69579483, -48.807892845), (-66.854250761, -49.61905242), (-67.665410336, -48.46059649))
        make_face()
    enl_v_mat_extru_14_tool1 = extrude(enl_v_mat_extru_14_sk1.sketch, amount=-ENL_V_MAT_EXTRU_14_REACH, mode=Mode.PRIVATE) & part.part
    # Esquisse17 → Enlèv. mat.-Extru.14 (cut, up to next)
    with BuildSketch(Plane(origin=(0, 4, 0), x_dir=(1, 0, 0), z_dir=(0, 1, 0)), mode=Mode.PRIVATE) as enl_v_mat_extru_14_sk2:
        with BuildLine():
            Line((-60.250811532, -46.721710474), (-60.771756065, -49.676133733))
            ThreePointArc((-60.771756065, -49.676133733), (-61.930211996, -50.487293309), (-62.741371571, -49.328837378))
            Line((-62.741371571, -49.328837378), (-62.220427038, -46.374414119))
            ThreePointArc((-62.220427038, -46.374414119), (-61.061971107, -45.563254544), (-60.250811532, -46.721710474))
        make_face()
    enl_v_mat_extru_14_tool2 = extrude(enl_v_mat_extru_14_sk2.sketch, amount=-ENL_V_MAT_EXTRU_14_REACH, mode=Mode.PRIVATE) & part.part
    add(enl_v_mat_extru_14_tool1.solids().sort_by_distance((-66.42013, 4, 47.157033))[0], mode=Mode.SUBTRACT)
    add(enl_v_mat_extru_14_tool2.solids().sort_by_distance((-61.496092, 4, 48.025274))[0], mode=Mode.SUBTRACT)


solid = part.part
